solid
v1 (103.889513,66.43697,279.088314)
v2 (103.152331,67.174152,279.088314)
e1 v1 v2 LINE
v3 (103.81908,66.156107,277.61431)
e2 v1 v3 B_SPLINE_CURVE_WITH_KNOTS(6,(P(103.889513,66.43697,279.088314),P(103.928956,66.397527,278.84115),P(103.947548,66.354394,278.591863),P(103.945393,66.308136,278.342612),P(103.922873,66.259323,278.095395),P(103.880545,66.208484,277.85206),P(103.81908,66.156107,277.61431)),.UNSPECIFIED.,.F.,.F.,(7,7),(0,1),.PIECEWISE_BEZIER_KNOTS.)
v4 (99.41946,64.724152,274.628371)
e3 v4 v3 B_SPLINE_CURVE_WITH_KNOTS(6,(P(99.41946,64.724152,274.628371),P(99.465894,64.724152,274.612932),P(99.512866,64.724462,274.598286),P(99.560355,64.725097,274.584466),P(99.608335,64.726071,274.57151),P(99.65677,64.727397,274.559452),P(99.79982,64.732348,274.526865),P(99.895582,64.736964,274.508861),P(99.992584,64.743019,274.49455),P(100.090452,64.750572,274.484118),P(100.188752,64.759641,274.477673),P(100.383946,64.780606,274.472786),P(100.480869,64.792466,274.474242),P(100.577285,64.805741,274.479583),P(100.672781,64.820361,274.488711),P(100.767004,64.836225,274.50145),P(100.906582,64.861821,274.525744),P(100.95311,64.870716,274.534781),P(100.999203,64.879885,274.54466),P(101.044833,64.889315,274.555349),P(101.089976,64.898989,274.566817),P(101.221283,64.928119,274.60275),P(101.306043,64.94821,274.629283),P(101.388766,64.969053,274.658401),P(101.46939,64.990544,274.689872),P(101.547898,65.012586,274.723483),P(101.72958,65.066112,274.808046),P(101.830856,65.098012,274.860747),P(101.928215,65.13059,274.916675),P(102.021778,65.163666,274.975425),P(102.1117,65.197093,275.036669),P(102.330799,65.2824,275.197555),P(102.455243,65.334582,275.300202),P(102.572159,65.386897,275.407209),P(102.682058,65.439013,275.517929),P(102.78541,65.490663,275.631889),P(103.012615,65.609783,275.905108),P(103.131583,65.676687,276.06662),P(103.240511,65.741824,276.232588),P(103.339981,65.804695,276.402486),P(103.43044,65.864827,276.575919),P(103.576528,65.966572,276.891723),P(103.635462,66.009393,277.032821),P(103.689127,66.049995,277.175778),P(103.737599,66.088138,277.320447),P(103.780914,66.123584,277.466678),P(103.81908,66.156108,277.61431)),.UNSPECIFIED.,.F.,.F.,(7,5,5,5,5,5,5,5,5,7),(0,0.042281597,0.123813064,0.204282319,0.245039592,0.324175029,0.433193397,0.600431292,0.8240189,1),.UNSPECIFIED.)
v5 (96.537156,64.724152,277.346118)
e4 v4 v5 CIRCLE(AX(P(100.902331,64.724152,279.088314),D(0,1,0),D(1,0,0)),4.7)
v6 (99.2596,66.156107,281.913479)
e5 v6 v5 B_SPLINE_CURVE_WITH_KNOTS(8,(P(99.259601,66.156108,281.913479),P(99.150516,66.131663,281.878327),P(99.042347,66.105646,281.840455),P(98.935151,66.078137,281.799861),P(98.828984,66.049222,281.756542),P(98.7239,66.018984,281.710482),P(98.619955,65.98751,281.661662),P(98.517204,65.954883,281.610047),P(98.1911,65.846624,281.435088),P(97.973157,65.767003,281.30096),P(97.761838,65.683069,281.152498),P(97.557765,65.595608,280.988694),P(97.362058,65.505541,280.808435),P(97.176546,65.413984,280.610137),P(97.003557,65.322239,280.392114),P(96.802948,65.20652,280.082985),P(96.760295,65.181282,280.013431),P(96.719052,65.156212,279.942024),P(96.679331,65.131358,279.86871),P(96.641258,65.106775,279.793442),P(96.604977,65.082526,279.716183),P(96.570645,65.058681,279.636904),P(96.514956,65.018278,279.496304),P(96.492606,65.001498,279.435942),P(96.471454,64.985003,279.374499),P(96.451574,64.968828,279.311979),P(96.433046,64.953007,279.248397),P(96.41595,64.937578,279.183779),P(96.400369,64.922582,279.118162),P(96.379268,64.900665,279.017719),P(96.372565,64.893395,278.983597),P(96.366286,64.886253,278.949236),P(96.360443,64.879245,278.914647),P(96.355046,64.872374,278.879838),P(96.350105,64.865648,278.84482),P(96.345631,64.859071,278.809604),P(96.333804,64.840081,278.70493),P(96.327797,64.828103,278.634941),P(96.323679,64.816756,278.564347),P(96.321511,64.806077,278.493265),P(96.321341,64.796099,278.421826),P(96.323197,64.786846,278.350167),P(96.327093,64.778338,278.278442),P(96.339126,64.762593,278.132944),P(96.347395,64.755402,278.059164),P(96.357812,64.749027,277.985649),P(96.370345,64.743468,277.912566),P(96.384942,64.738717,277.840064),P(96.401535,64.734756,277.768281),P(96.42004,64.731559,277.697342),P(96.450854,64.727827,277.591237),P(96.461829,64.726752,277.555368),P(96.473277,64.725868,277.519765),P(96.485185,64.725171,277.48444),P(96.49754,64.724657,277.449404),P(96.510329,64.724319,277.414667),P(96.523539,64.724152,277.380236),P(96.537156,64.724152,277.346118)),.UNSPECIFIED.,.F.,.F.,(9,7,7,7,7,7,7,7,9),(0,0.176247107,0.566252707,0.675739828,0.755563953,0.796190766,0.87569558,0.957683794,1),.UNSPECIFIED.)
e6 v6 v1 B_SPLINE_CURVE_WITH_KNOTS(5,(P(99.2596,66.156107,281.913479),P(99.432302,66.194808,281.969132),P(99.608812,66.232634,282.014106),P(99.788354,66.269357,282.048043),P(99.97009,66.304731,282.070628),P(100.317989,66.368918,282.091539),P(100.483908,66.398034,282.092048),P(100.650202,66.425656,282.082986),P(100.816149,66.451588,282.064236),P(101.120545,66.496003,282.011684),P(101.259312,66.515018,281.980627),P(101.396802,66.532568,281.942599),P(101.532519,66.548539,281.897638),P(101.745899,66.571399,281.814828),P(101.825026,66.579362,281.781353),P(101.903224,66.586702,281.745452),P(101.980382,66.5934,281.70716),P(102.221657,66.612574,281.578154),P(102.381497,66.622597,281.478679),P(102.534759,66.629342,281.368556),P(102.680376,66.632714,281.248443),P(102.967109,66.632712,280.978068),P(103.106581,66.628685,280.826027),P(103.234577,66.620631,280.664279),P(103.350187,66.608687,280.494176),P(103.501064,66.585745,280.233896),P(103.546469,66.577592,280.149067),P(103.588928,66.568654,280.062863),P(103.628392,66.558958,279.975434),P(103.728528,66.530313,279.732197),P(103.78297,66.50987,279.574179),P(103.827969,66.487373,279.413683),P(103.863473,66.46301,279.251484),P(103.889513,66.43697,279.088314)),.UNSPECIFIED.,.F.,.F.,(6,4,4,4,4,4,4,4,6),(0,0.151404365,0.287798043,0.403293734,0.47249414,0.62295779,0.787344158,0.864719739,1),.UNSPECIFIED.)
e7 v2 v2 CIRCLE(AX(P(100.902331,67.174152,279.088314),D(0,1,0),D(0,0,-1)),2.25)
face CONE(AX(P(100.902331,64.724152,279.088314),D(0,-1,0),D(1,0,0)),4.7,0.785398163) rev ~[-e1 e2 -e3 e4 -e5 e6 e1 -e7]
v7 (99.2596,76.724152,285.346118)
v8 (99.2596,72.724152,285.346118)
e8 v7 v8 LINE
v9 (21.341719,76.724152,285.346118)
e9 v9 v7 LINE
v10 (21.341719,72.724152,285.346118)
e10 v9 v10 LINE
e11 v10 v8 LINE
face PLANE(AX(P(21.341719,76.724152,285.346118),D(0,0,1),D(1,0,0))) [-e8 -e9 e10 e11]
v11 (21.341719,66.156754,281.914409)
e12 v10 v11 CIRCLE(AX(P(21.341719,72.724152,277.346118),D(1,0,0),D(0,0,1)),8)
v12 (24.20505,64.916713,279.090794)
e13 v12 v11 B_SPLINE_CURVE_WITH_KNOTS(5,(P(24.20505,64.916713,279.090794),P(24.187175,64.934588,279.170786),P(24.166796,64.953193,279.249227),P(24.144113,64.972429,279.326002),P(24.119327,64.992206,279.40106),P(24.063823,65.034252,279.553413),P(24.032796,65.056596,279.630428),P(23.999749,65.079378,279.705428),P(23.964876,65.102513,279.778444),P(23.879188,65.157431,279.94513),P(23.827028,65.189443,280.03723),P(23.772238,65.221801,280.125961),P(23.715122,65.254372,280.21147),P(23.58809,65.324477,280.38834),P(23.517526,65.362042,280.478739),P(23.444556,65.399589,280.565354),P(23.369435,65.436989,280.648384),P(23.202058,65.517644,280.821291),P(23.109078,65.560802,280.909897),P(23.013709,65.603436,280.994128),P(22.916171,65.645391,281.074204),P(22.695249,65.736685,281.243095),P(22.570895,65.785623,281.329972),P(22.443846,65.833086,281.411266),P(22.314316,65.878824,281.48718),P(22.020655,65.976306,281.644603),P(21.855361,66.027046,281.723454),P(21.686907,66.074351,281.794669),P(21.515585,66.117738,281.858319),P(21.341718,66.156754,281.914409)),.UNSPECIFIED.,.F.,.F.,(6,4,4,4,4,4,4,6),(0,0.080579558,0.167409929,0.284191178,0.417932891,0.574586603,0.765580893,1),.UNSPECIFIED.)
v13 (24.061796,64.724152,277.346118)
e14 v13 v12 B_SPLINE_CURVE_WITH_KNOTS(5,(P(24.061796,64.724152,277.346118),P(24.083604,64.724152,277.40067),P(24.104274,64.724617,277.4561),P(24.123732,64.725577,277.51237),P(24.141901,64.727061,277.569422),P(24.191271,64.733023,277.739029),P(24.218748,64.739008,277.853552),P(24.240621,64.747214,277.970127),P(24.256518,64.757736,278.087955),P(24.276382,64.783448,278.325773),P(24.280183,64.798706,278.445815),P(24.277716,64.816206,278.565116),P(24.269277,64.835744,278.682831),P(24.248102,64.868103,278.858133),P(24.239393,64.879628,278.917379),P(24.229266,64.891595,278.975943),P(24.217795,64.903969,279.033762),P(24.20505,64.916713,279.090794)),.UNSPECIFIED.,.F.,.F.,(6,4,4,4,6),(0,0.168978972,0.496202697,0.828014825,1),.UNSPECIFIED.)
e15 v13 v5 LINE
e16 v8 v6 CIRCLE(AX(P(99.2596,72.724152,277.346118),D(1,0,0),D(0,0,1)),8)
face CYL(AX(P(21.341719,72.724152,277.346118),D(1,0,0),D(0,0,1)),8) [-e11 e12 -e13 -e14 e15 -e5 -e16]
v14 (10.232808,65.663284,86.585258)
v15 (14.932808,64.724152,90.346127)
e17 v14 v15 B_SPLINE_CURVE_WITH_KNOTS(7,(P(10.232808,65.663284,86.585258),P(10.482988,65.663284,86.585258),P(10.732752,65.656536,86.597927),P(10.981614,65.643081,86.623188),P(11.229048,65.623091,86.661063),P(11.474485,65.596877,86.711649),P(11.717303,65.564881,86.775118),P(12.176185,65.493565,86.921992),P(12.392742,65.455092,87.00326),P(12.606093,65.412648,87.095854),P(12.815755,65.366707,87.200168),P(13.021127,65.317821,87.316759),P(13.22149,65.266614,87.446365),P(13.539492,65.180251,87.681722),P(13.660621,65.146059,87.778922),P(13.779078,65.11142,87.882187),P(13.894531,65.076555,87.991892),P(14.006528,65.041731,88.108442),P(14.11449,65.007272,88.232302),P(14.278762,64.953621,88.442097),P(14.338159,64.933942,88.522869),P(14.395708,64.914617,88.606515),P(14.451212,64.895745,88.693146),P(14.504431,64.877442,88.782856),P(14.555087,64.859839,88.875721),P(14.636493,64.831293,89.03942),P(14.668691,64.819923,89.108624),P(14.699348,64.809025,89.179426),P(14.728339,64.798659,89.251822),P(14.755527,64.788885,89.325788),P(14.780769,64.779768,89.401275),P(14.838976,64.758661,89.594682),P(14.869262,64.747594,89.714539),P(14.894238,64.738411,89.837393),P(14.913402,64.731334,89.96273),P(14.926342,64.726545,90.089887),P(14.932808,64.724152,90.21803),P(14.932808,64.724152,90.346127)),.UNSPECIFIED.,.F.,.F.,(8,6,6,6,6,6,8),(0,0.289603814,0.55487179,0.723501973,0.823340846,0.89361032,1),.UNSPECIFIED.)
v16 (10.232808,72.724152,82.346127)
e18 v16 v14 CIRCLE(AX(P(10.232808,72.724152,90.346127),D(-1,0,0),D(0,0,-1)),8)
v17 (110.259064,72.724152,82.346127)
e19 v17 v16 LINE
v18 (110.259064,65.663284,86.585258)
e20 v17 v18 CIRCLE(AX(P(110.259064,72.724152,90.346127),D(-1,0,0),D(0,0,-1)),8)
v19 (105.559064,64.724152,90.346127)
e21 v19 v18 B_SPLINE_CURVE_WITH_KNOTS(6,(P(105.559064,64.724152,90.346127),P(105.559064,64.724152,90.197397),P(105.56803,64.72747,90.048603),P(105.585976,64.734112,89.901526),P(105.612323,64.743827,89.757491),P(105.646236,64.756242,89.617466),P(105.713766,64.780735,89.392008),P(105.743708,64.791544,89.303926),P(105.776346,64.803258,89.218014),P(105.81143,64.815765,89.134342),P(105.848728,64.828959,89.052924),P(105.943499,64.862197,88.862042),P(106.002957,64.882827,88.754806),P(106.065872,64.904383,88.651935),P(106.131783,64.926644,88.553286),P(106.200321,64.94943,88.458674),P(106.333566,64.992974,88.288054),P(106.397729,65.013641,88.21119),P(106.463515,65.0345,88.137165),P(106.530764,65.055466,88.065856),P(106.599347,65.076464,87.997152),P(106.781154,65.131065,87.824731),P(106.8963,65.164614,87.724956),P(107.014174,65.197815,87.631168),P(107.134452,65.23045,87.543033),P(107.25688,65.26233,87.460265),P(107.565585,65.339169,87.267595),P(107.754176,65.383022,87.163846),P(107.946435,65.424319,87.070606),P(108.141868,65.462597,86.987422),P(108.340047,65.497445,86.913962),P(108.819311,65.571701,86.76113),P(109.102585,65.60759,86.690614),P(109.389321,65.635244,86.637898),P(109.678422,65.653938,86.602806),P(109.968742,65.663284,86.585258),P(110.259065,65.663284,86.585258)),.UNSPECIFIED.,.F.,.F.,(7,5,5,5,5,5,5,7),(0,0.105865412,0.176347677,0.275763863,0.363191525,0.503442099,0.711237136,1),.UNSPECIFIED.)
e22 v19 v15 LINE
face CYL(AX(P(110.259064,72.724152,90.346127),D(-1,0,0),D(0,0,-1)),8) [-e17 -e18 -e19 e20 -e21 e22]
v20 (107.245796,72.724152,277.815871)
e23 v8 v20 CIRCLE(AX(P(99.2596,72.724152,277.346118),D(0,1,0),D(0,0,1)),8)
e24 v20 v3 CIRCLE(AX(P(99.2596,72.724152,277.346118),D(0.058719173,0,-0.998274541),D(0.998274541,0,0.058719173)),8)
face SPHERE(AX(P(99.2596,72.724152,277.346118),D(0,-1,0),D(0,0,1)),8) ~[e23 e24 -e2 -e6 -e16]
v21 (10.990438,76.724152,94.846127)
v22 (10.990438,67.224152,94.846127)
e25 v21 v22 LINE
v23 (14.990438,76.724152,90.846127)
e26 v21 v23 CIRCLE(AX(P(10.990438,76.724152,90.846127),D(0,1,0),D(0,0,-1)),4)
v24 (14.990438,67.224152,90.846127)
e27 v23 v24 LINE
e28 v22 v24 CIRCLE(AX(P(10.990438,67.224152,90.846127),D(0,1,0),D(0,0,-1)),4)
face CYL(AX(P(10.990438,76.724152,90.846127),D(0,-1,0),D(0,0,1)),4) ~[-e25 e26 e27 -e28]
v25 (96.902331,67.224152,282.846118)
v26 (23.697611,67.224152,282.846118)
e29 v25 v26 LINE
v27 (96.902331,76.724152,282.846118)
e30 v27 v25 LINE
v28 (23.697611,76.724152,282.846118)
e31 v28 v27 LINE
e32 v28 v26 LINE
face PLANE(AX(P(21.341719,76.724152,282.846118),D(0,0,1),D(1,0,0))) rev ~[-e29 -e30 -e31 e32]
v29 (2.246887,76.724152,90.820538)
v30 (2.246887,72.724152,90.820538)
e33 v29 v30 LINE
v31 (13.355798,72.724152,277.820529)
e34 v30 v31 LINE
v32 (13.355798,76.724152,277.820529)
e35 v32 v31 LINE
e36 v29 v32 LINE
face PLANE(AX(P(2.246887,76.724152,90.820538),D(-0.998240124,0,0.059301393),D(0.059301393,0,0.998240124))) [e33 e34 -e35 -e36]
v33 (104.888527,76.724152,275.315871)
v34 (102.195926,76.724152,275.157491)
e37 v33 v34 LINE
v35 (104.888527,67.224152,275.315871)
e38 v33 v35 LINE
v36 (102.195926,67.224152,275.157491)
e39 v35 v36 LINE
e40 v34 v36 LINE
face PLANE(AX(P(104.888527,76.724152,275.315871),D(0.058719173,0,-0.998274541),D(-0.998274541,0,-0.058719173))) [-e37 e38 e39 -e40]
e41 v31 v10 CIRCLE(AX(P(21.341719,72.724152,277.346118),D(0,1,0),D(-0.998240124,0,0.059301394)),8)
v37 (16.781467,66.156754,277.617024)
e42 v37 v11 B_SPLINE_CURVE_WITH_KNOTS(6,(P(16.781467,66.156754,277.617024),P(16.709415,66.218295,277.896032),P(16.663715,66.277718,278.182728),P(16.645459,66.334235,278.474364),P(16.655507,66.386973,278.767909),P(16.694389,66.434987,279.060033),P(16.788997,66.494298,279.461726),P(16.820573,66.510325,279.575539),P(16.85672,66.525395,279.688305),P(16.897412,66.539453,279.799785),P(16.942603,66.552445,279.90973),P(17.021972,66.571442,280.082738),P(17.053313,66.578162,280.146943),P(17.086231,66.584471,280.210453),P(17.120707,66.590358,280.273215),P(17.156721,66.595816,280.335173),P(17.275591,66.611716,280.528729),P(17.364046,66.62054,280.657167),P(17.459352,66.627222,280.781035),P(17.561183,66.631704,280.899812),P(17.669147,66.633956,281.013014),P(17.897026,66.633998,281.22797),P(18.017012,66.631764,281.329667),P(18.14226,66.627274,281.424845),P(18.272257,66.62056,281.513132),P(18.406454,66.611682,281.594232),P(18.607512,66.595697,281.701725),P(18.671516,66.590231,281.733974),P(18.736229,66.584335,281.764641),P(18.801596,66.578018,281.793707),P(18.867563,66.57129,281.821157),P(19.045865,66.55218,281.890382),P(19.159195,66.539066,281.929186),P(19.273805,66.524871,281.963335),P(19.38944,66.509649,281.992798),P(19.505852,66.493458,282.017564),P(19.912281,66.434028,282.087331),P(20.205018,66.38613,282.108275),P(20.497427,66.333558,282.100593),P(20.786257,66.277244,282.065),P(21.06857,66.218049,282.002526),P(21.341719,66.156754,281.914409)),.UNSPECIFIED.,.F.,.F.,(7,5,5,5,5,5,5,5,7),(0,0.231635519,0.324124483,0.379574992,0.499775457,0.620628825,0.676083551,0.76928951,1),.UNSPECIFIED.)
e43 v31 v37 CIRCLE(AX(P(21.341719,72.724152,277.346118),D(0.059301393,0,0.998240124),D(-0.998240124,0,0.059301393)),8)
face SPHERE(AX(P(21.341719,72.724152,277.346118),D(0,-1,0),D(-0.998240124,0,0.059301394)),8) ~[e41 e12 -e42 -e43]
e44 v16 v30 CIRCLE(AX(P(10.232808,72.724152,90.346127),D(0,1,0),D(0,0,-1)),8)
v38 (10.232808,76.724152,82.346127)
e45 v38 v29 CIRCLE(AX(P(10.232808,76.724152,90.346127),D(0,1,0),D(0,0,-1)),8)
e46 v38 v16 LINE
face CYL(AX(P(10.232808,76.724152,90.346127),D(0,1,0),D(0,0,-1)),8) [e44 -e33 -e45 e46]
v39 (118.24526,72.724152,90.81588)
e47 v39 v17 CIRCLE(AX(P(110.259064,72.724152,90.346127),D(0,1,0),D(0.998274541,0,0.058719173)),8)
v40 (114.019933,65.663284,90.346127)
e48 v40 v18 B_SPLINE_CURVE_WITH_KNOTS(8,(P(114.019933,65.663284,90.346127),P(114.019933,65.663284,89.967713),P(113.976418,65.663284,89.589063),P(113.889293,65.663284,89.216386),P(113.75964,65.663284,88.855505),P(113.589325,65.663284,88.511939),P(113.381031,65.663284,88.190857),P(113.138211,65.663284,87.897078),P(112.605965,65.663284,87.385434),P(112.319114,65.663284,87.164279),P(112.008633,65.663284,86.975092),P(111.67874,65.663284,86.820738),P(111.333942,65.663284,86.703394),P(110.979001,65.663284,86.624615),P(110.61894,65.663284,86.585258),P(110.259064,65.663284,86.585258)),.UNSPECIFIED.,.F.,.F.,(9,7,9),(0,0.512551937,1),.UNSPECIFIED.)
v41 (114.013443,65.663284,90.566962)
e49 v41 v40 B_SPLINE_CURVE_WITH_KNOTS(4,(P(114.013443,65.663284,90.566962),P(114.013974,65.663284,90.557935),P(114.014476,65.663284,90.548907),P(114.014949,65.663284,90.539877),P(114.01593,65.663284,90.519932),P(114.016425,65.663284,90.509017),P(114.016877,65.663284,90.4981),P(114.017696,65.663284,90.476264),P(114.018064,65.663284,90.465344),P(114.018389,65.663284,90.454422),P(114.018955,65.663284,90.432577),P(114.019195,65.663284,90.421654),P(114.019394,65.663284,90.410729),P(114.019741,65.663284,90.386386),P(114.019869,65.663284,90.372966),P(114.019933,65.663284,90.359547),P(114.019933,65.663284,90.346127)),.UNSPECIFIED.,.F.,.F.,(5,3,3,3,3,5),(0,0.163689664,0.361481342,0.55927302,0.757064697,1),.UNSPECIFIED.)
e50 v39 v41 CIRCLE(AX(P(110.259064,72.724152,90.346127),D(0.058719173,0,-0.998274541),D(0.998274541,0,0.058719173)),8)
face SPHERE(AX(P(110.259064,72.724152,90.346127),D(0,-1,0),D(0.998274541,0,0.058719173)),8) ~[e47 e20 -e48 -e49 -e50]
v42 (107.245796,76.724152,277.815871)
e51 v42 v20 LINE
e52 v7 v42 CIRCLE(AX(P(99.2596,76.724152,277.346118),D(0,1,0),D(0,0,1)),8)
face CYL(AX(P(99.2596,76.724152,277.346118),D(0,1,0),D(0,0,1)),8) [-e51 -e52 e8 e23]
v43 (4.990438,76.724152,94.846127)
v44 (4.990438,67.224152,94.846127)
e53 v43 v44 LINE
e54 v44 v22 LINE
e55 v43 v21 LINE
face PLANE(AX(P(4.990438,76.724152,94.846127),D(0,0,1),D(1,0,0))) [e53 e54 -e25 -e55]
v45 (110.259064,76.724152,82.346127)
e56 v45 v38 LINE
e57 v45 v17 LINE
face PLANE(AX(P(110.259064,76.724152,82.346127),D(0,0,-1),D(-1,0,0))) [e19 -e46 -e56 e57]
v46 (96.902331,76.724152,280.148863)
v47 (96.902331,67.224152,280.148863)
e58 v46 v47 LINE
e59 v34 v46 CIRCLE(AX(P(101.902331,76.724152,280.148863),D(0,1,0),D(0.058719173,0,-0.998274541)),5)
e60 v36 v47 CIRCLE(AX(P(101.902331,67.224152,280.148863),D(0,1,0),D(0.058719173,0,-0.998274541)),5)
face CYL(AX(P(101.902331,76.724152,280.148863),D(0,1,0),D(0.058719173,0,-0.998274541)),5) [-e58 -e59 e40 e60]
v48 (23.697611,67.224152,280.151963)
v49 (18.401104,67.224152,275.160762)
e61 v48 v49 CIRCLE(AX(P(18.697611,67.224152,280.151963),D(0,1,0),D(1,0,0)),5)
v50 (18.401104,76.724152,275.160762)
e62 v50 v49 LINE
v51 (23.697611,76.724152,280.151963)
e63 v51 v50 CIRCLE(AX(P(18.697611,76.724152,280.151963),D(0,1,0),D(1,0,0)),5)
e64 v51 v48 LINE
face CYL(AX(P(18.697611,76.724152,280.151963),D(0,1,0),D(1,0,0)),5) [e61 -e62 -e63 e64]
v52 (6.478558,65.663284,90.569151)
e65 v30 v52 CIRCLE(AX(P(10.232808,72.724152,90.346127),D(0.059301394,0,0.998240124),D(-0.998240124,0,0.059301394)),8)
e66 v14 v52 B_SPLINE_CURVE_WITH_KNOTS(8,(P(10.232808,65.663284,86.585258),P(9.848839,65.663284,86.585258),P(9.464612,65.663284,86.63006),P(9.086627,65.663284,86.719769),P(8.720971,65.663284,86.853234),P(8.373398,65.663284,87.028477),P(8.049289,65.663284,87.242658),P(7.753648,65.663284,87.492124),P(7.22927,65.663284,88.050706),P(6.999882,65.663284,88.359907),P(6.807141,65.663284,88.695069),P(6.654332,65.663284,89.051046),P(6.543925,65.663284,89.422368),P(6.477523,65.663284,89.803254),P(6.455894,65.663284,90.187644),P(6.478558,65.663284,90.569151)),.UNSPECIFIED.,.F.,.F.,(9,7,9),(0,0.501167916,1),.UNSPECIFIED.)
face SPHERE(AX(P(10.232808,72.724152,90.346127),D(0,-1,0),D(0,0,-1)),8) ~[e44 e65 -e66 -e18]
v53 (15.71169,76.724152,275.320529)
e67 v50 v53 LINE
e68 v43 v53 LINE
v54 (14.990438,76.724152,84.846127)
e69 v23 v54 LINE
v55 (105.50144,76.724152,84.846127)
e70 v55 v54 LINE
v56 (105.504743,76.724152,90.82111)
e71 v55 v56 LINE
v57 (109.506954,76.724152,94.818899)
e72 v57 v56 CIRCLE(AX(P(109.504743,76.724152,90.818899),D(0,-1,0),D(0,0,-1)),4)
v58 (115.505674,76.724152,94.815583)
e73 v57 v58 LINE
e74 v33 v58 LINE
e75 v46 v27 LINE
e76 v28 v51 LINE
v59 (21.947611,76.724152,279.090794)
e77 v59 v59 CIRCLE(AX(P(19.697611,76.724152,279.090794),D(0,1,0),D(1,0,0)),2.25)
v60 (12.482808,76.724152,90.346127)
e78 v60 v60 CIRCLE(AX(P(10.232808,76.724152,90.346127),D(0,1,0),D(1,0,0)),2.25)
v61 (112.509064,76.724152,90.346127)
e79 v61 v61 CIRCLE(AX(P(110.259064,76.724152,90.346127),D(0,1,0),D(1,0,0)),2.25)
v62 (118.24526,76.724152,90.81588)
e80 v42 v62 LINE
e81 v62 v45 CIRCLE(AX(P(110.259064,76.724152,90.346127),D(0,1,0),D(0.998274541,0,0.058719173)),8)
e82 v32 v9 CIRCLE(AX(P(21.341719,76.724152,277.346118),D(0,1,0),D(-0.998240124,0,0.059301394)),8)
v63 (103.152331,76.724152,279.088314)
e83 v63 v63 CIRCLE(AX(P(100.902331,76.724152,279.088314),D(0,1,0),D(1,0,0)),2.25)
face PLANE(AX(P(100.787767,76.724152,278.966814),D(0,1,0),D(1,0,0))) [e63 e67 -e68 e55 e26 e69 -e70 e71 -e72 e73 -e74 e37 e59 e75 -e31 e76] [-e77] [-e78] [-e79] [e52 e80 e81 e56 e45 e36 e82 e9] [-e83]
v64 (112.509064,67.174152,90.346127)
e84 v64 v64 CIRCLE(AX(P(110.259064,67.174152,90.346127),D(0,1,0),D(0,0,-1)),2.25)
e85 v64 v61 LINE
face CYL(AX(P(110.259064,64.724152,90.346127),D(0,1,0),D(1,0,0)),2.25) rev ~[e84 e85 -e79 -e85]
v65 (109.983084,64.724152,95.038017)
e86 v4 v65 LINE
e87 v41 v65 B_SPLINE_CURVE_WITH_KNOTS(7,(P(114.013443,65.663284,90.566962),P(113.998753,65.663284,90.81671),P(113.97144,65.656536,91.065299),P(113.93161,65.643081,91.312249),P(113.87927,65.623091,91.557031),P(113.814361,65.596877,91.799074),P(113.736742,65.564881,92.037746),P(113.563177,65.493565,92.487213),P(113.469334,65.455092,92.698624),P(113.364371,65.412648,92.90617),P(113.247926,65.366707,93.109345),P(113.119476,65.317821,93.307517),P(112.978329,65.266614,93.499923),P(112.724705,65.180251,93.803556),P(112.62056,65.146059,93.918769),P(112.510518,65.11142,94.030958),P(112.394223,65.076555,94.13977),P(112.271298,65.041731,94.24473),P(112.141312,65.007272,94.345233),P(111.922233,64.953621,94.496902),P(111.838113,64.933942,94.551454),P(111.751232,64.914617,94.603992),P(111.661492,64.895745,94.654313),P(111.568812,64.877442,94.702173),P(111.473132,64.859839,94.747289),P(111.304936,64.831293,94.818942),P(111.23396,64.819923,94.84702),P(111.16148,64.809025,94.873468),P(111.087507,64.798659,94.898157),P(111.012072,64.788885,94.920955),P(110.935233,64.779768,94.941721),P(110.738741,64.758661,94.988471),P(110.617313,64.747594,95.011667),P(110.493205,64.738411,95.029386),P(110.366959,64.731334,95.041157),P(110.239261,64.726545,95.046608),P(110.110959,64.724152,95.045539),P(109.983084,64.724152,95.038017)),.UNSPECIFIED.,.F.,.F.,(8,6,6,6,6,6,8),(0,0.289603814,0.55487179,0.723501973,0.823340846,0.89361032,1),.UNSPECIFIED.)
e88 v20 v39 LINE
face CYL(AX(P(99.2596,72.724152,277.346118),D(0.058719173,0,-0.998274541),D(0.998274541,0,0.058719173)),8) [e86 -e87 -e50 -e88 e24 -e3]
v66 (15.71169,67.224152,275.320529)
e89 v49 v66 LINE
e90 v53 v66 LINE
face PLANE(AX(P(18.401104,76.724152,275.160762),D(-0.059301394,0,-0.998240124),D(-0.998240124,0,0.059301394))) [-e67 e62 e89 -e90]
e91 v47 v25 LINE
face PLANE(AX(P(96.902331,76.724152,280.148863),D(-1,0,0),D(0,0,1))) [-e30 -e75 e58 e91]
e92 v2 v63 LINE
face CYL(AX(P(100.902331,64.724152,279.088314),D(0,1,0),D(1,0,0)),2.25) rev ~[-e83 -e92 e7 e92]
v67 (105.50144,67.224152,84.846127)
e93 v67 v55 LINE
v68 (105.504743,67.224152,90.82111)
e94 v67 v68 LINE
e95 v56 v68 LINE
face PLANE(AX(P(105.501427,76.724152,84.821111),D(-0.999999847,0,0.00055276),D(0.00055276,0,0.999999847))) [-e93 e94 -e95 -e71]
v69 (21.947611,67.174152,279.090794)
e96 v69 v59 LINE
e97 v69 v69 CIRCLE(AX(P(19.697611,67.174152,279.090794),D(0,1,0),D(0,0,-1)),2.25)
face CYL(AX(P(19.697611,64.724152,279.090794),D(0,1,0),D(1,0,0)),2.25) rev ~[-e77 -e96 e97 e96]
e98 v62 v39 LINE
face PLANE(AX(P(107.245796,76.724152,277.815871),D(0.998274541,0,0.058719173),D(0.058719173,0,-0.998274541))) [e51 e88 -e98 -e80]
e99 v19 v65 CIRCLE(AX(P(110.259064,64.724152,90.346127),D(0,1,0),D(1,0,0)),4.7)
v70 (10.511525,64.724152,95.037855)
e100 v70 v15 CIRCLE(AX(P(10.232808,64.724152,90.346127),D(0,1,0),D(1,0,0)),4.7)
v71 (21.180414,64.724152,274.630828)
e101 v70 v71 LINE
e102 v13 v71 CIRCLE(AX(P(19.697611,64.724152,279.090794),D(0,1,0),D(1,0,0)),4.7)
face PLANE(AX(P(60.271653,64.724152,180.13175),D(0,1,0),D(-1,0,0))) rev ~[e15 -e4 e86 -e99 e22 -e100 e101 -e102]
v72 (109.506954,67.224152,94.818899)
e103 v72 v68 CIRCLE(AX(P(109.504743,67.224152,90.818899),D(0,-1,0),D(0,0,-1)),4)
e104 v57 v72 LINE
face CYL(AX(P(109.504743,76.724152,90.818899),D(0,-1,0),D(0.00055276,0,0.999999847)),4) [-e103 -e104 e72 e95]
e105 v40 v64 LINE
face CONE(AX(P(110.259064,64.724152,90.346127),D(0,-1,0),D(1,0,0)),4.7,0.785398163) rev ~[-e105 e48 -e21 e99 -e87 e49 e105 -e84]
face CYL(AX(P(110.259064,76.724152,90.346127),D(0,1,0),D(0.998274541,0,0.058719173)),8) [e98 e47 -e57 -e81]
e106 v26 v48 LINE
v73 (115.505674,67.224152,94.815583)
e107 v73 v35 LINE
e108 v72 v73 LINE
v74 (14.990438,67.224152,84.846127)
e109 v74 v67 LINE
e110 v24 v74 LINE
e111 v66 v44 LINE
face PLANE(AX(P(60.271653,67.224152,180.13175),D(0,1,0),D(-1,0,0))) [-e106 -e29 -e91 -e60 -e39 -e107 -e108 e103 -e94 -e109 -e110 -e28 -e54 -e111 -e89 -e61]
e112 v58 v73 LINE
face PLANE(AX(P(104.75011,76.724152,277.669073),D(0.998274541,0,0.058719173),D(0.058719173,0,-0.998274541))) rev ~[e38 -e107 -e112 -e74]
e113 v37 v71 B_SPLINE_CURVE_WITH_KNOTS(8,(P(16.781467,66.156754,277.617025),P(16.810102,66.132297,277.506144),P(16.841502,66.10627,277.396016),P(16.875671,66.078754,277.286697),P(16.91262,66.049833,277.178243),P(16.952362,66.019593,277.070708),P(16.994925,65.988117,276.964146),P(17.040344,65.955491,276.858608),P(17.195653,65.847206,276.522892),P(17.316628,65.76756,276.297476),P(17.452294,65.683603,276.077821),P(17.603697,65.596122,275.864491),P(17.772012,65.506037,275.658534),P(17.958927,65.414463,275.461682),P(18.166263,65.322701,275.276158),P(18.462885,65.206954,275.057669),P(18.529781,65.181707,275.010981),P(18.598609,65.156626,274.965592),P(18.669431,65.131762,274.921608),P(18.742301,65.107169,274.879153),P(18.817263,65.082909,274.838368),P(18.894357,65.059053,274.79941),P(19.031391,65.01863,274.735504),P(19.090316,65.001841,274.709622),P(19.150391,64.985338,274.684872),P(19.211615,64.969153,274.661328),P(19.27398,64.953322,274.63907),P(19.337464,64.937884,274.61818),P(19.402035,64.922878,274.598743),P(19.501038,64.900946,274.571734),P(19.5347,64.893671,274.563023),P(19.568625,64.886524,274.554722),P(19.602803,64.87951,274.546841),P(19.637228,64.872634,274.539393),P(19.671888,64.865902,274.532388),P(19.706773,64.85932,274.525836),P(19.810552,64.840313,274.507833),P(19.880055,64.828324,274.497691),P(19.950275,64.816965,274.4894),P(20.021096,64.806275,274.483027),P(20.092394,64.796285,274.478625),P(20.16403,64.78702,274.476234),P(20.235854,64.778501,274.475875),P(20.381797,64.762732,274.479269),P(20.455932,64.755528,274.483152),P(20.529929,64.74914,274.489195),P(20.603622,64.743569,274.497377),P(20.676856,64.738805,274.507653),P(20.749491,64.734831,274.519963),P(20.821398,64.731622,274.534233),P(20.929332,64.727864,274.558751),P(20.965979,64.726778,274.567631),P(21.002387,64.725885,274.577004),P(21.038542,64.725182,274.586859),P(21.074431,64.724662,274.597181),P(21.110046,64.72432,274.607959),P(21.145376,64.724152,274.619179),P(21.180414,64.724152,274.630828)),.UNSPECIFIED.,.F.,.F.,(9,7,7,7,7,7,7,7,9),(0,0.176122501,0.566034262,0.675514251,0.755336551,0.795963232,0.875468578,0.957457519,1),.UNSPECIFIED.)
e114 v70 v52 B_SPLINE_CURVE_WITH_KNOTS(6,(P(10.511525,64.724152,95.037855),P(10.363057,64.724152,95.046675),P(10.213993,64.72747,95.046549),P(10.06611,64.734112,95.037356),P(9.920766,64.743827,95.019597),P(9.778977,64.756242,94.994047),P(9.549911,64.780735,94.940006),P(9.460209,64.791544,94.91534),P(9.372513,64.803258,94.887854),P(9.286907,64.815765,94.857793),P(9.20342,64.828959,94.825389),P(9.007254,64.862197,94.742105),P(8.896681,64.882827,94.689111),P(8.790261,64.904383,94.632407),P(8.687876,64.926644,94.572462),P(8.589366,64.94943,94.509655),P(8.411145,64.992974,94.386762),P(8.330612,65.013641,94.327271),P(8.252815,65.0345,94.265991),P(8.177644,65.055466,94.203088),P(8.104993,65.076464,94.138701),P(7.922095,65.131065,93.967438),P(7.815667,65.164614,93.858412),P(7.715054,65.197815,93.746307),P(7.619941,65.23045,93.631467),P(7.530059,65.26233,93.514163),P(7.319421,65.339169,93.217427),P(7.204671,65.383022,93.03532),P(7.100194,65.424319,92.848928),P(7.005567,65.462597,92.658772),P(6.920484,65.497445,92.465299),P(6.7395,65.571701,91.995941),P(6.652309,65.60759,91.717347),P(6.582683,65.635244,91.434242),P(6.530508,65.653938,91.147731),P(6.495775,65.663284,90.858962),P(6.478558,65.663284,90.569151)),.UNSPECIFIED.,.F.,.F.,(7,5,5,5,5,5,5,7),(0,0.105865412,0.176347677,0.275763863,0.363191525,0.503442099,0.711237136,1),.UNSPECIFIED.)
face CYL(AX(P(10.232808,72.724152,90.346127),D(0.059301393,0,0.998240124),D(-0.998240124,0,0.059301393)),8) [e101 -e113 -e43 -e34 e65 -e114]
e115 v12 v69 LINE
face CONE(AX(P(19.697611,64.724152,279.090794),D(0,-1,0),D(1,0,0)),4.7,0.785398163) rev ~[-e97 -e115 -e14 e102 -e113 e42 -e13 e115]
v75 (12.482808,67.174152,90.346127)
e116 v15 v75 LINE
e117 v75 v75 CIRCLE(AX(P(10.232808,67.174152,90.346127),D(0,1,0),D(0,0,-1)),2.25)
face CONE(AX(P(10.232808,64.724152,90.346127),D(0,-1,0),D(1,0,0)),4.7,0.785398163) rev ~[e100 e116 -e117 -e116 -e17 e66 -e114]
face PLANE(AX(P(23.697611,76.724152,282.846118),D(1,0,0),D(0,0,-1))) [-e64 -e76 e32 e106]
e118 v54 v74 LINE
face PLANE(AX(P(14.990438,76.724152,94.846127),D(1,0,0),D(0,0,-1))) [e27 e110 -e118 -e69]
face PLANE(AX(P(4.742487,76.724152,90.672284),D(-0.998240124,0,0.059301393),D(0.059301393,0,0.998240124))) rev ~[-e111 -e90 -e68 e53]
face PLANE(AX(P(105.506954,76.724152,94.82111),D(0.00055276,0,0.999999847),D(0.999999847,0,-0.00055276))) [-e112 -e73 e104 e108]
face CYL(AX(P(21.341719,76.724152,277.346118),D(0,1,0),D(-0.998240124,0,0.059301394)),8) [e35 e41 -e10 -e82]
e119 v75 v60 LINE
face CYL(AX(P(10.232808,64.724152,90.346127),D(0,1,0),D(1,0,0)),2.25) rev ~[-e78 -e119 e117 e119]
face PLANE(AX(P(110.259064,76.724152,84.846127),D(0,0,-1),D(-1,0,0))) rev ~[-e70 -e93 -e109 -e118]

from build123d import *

# Parameters (mm, degrees)
BOSS_EXTRUDE1_DEPTH                                 = 12
SHELL1_T                                            = -2.5
FILLET2_R                                           = 8
SKETCH5_R                                           = 1.5
BOSS_EXTRUDE3_DEPTH                                 = 9.5
FILLET5_R                                           = 4
CSK_FOR_M4_COUNTERSUNK_FLAT_HEAD_SCREW1_D           = 4.5
CSK_FOR_M4_COUNTERSUNK_FLAT_HEAD_SCREW1_CSINK_D     = 9.4
CSK_FOR_M4_COUNTERSUNK_FLAT_HEAD_SCREW1_CSINK_ANGLE = 90
CSK_FOR_M4_COUNTERSUNK_FLAT_HEAD_SCREW2_D           = 4.5
CSK_FOR_M4_COUNTERSUNK_FLAT_HEAD_SCREW2_CSINK_D     = 9.4
CSK_FOR_M4_COUNTERSUNK_FLAT_HEAD_SCREW2_CSINK_ANGLE = 90


with BuildPart() as part:
    # Sketch1 → Boss-Extrude1 (new body)
    with BuildSketch(Plane.XZ.offset(-76.724152422)):
        with BuildLine():
            Line((110.259063934, 82.346126643), (10.232808146, 82.346126643))
            ThreePointArc((10.232808146, 82.346126643), (4.41063977, 84.859565296), (2.246887156, 90.820537791))
            Line((2.246887156, 90.820537791), (13.35579753, 277.820529099))
            ThreePointArc((13.35579753, 277.820529099), (15.855157174, 283.168286326), (21.341718521, 285.346117951))
            Line((21.341718521, 285.346117951), (99.259600005, 285.346117951))
            ThreePointArc((99.259600005, 285.346117951), (104.747858971, 283.166686096), (107.245796332, 277.815871333))
            Line((107.245796332, 277.815871333), (118.24526026, 90.815880025))
            ThreePointArc((118.24526026, 90.815880025), (116.079632079, 84.857867678), (110.259063934, 82.346126643))
        make_face()
    extrude(amount=BOSS_EXTRUDE1_DEPTH)

    # Shell1
    shell1_openings = [part.faces().sort_by_distance(p)[0] for p in [
        (60.272055657, 76.724152422, 180.004596884),
    ]]
    offset(amount=SHELL1_T, openings=shell1_openings, kind=Kind.INTERSECTION)

    # Fillet2
    fillet2_edges = [part.edges().sort_by_distance(p)[0] for p in [
        (104.747858971, 64.724152422, 283.166686096),
        (60.300659263, 64.724152422, 285.346117951),
        (15.855157174, 64.724152422, 283.168286326),
        (7.801342343, 64.724152422, 184.320533445),
        (4.41063977, 64.724152422, 84.859565296),
        (60.24593604, 64.724152422, 82.346126643),
        (116.079632079, 64.724152422, 84.857867678),
        (112.745528296, 64.724152422, 184.315875679),
    ]]
    fillet(fillet2_edges, radius=FILLET2_R)

    # Sketch5 → Boss-Extrude3 (add)
    # profile 1 of 4: a face of its own
    with BuildSketch(Plane(origin=(0, 76.724152422, 0), x_dir=(1, 0, 0), z_dir=(0, 1, 0))):
        with BuildLine():
            Line((104.888526891, -275.315871333), (102.195926429, -275.157490782))
            ThreePointArc((102.195926429, -275.157490782), (98.472168712, -276.511008395), (96.902330565, -280.148863486))
            Line((96.902330565, -280.148863486), (96.902330565, -282.846117951))
            Line((96.902330565, -282.846117951), (99.259600005, -282.846117951))
            ThreePointArc((99.259600005, -282.846117951), (103.032778044, -281.34775855), (104.75010998, -277.669073401))
            Line((104.75010998, -277.669073401), (104.888526891, -275.315871333))
        make_face()
        with Locations(Location((100.902330565, -279.088314379, 0), (0, 0, 270))):
            Circle(SKETCH5_R, mode=Mode.SUBTRACT)
    # profile 2 of 4: a face of its own
    with BuildSketch(Plane(origin=(0, 76.724152422, 0), x_dir=(1, 0, 0), z_dir=(0, 1, 0))):
        with BuildLine():
            Line((18.401104149, -275.160761929), (15.711690126, -275.320529099))
            Line((15.711690126, -275.320529099), (15.85139784, -277.672275615))
            ThreePointArc((15.85139784, -277.672275615), (17.569707595, -281.348858709), (21.341718521, -282.846117951))
            Line((21.341718521, -282.846117951), (23.697611116, -282.846117951))
            Line((23.697611116, -282.846117951), (23.697611116, -280.151962548))
            ThreePointArc((23.697611116, -280.151962548), (22.126711958, -276.513107313), (18.401104149, -275.160761929))
        make_face()
        with Locations(Location((19.697611116, -279.090793629, 0), (0, 0, 270))):
            Circle(SKETCH5_R, mode=Mode.SUBTRACT)
    # profile 3 of 4: a face of its own
    with BuildSketch(Plane(origin=(0, 76.724152422, 0), x_dir=(1, 0, 0), z_dir=(0, 1, 0))):
        with BuildLine():
            Line((14.990438495, -84.846126643), (10.232808146, -84.846126643))
            ThreePointArc((10.232808146, -84.846126643), (6.230067388, -86.574115717), (4.742487465, -90.672284307))
            Line((4.742487465, -90.672284307), (4.990438495, -94.846126643))
            Line((4.990438495, -94.846126643), (14.990438495, -94.846126643))
            Line((14.990438495, -94.846126643), (14.990438495, -84.846126643))
        make_face()
        with Locations(Location((10.232808146, -90.346126643, 0), (0, 0, 270))):
            Circle(SKETCH5_R, mode=Mode.SUBTRACT)
    # profile 4 of 4: a face of its own
    with BuildSketch(Plane(origin=(0, 76.724152422, 0), x_dir=(1, 0, 0), z_dir=(0, 1, 0))):
        with BuildLine():
            Line((105.501426671, -84.821111223), (105.506954269, -94.821109695))
            Line((105.506954269, -94.821109695), (115.506952742, -94.815582097))
            Line((115.506952742, -94.815582097), (115.752596601, -90.641603341))
            ThreePointArc((115.752596601, -90.641603341), (114.262751603, -86.544257652), (110.259056293, -84.818481396))
            Line((110.259056293, -84.818481396), (105.501426671, -84.821111223))
        make_face()
        with Locations(Location((110.259063934, -90.346126643, 0), (0, 0, 270))):
            Circle(SKETCH5_R, mode=Mode.SUBTRACT)
    extrude(amount=-BOSS_EXTRUDE3_DEPTH)

    # Fillet5
    fillet5_edges = [part.edges().sort_by_distance(p)[0] for p in [
        (14.990438495, 71.974152422, 94.846126643),
        (105.506954269, 71.974152422, 94.821109695),
    ]]
    fillet(fillet5_edges, radius=FILLET5_R)

    # CSK for M4 Countersunk Flat Head Screw1 (through all)
    with Locations(Plane(origin=(0, 64.724152422, 0), x_dir=(-1, 0, 0), z_dir=(0, -1, 0))):
        with Locations((-10.232808146, -90.346126643), (-110.259063934, -90.346126643)):
            CounterSinkHole(CSK_FOR_M4_COUNTERSUNK_FLAT_HEAD_SCREW1_D / 2, CSK_FOR_M4_COUNTERSUNK_FLAT_HEAD_SCREW1_CSINK_D / 2, counter_sink_angle=CSK_FOR_M4_COUNTERSUNK_FLAT_HEAD_SCREW1_CSINK_ANGLE)

    # CSK for M4 Countersunk Flat Head Screw2 (through all)
    with Locations(Plane(origin=(0, 64.724152422, 0), x_dir=(-1, 0, 0), z_dir=(0, -1, 0))):
        with Locations((-100.902330565, -279.088314379), (-19.697611116, -279.090793629)):
            CounterSinkHole(CSK_FOR_M4_COUNTERSUNK_FLAT_HEAD_SCREW2_D / 2, CSK_FOR_M4_COUNTERSUNK_FLAT_HEAD_SCREW2_CSINK_D / 2, counter_sink_angle=CSK_FOR_M4_COUNTERSUNK_FLAT_HEAD_SCREW2_CSINK_ANGLE)


solid = part.part
